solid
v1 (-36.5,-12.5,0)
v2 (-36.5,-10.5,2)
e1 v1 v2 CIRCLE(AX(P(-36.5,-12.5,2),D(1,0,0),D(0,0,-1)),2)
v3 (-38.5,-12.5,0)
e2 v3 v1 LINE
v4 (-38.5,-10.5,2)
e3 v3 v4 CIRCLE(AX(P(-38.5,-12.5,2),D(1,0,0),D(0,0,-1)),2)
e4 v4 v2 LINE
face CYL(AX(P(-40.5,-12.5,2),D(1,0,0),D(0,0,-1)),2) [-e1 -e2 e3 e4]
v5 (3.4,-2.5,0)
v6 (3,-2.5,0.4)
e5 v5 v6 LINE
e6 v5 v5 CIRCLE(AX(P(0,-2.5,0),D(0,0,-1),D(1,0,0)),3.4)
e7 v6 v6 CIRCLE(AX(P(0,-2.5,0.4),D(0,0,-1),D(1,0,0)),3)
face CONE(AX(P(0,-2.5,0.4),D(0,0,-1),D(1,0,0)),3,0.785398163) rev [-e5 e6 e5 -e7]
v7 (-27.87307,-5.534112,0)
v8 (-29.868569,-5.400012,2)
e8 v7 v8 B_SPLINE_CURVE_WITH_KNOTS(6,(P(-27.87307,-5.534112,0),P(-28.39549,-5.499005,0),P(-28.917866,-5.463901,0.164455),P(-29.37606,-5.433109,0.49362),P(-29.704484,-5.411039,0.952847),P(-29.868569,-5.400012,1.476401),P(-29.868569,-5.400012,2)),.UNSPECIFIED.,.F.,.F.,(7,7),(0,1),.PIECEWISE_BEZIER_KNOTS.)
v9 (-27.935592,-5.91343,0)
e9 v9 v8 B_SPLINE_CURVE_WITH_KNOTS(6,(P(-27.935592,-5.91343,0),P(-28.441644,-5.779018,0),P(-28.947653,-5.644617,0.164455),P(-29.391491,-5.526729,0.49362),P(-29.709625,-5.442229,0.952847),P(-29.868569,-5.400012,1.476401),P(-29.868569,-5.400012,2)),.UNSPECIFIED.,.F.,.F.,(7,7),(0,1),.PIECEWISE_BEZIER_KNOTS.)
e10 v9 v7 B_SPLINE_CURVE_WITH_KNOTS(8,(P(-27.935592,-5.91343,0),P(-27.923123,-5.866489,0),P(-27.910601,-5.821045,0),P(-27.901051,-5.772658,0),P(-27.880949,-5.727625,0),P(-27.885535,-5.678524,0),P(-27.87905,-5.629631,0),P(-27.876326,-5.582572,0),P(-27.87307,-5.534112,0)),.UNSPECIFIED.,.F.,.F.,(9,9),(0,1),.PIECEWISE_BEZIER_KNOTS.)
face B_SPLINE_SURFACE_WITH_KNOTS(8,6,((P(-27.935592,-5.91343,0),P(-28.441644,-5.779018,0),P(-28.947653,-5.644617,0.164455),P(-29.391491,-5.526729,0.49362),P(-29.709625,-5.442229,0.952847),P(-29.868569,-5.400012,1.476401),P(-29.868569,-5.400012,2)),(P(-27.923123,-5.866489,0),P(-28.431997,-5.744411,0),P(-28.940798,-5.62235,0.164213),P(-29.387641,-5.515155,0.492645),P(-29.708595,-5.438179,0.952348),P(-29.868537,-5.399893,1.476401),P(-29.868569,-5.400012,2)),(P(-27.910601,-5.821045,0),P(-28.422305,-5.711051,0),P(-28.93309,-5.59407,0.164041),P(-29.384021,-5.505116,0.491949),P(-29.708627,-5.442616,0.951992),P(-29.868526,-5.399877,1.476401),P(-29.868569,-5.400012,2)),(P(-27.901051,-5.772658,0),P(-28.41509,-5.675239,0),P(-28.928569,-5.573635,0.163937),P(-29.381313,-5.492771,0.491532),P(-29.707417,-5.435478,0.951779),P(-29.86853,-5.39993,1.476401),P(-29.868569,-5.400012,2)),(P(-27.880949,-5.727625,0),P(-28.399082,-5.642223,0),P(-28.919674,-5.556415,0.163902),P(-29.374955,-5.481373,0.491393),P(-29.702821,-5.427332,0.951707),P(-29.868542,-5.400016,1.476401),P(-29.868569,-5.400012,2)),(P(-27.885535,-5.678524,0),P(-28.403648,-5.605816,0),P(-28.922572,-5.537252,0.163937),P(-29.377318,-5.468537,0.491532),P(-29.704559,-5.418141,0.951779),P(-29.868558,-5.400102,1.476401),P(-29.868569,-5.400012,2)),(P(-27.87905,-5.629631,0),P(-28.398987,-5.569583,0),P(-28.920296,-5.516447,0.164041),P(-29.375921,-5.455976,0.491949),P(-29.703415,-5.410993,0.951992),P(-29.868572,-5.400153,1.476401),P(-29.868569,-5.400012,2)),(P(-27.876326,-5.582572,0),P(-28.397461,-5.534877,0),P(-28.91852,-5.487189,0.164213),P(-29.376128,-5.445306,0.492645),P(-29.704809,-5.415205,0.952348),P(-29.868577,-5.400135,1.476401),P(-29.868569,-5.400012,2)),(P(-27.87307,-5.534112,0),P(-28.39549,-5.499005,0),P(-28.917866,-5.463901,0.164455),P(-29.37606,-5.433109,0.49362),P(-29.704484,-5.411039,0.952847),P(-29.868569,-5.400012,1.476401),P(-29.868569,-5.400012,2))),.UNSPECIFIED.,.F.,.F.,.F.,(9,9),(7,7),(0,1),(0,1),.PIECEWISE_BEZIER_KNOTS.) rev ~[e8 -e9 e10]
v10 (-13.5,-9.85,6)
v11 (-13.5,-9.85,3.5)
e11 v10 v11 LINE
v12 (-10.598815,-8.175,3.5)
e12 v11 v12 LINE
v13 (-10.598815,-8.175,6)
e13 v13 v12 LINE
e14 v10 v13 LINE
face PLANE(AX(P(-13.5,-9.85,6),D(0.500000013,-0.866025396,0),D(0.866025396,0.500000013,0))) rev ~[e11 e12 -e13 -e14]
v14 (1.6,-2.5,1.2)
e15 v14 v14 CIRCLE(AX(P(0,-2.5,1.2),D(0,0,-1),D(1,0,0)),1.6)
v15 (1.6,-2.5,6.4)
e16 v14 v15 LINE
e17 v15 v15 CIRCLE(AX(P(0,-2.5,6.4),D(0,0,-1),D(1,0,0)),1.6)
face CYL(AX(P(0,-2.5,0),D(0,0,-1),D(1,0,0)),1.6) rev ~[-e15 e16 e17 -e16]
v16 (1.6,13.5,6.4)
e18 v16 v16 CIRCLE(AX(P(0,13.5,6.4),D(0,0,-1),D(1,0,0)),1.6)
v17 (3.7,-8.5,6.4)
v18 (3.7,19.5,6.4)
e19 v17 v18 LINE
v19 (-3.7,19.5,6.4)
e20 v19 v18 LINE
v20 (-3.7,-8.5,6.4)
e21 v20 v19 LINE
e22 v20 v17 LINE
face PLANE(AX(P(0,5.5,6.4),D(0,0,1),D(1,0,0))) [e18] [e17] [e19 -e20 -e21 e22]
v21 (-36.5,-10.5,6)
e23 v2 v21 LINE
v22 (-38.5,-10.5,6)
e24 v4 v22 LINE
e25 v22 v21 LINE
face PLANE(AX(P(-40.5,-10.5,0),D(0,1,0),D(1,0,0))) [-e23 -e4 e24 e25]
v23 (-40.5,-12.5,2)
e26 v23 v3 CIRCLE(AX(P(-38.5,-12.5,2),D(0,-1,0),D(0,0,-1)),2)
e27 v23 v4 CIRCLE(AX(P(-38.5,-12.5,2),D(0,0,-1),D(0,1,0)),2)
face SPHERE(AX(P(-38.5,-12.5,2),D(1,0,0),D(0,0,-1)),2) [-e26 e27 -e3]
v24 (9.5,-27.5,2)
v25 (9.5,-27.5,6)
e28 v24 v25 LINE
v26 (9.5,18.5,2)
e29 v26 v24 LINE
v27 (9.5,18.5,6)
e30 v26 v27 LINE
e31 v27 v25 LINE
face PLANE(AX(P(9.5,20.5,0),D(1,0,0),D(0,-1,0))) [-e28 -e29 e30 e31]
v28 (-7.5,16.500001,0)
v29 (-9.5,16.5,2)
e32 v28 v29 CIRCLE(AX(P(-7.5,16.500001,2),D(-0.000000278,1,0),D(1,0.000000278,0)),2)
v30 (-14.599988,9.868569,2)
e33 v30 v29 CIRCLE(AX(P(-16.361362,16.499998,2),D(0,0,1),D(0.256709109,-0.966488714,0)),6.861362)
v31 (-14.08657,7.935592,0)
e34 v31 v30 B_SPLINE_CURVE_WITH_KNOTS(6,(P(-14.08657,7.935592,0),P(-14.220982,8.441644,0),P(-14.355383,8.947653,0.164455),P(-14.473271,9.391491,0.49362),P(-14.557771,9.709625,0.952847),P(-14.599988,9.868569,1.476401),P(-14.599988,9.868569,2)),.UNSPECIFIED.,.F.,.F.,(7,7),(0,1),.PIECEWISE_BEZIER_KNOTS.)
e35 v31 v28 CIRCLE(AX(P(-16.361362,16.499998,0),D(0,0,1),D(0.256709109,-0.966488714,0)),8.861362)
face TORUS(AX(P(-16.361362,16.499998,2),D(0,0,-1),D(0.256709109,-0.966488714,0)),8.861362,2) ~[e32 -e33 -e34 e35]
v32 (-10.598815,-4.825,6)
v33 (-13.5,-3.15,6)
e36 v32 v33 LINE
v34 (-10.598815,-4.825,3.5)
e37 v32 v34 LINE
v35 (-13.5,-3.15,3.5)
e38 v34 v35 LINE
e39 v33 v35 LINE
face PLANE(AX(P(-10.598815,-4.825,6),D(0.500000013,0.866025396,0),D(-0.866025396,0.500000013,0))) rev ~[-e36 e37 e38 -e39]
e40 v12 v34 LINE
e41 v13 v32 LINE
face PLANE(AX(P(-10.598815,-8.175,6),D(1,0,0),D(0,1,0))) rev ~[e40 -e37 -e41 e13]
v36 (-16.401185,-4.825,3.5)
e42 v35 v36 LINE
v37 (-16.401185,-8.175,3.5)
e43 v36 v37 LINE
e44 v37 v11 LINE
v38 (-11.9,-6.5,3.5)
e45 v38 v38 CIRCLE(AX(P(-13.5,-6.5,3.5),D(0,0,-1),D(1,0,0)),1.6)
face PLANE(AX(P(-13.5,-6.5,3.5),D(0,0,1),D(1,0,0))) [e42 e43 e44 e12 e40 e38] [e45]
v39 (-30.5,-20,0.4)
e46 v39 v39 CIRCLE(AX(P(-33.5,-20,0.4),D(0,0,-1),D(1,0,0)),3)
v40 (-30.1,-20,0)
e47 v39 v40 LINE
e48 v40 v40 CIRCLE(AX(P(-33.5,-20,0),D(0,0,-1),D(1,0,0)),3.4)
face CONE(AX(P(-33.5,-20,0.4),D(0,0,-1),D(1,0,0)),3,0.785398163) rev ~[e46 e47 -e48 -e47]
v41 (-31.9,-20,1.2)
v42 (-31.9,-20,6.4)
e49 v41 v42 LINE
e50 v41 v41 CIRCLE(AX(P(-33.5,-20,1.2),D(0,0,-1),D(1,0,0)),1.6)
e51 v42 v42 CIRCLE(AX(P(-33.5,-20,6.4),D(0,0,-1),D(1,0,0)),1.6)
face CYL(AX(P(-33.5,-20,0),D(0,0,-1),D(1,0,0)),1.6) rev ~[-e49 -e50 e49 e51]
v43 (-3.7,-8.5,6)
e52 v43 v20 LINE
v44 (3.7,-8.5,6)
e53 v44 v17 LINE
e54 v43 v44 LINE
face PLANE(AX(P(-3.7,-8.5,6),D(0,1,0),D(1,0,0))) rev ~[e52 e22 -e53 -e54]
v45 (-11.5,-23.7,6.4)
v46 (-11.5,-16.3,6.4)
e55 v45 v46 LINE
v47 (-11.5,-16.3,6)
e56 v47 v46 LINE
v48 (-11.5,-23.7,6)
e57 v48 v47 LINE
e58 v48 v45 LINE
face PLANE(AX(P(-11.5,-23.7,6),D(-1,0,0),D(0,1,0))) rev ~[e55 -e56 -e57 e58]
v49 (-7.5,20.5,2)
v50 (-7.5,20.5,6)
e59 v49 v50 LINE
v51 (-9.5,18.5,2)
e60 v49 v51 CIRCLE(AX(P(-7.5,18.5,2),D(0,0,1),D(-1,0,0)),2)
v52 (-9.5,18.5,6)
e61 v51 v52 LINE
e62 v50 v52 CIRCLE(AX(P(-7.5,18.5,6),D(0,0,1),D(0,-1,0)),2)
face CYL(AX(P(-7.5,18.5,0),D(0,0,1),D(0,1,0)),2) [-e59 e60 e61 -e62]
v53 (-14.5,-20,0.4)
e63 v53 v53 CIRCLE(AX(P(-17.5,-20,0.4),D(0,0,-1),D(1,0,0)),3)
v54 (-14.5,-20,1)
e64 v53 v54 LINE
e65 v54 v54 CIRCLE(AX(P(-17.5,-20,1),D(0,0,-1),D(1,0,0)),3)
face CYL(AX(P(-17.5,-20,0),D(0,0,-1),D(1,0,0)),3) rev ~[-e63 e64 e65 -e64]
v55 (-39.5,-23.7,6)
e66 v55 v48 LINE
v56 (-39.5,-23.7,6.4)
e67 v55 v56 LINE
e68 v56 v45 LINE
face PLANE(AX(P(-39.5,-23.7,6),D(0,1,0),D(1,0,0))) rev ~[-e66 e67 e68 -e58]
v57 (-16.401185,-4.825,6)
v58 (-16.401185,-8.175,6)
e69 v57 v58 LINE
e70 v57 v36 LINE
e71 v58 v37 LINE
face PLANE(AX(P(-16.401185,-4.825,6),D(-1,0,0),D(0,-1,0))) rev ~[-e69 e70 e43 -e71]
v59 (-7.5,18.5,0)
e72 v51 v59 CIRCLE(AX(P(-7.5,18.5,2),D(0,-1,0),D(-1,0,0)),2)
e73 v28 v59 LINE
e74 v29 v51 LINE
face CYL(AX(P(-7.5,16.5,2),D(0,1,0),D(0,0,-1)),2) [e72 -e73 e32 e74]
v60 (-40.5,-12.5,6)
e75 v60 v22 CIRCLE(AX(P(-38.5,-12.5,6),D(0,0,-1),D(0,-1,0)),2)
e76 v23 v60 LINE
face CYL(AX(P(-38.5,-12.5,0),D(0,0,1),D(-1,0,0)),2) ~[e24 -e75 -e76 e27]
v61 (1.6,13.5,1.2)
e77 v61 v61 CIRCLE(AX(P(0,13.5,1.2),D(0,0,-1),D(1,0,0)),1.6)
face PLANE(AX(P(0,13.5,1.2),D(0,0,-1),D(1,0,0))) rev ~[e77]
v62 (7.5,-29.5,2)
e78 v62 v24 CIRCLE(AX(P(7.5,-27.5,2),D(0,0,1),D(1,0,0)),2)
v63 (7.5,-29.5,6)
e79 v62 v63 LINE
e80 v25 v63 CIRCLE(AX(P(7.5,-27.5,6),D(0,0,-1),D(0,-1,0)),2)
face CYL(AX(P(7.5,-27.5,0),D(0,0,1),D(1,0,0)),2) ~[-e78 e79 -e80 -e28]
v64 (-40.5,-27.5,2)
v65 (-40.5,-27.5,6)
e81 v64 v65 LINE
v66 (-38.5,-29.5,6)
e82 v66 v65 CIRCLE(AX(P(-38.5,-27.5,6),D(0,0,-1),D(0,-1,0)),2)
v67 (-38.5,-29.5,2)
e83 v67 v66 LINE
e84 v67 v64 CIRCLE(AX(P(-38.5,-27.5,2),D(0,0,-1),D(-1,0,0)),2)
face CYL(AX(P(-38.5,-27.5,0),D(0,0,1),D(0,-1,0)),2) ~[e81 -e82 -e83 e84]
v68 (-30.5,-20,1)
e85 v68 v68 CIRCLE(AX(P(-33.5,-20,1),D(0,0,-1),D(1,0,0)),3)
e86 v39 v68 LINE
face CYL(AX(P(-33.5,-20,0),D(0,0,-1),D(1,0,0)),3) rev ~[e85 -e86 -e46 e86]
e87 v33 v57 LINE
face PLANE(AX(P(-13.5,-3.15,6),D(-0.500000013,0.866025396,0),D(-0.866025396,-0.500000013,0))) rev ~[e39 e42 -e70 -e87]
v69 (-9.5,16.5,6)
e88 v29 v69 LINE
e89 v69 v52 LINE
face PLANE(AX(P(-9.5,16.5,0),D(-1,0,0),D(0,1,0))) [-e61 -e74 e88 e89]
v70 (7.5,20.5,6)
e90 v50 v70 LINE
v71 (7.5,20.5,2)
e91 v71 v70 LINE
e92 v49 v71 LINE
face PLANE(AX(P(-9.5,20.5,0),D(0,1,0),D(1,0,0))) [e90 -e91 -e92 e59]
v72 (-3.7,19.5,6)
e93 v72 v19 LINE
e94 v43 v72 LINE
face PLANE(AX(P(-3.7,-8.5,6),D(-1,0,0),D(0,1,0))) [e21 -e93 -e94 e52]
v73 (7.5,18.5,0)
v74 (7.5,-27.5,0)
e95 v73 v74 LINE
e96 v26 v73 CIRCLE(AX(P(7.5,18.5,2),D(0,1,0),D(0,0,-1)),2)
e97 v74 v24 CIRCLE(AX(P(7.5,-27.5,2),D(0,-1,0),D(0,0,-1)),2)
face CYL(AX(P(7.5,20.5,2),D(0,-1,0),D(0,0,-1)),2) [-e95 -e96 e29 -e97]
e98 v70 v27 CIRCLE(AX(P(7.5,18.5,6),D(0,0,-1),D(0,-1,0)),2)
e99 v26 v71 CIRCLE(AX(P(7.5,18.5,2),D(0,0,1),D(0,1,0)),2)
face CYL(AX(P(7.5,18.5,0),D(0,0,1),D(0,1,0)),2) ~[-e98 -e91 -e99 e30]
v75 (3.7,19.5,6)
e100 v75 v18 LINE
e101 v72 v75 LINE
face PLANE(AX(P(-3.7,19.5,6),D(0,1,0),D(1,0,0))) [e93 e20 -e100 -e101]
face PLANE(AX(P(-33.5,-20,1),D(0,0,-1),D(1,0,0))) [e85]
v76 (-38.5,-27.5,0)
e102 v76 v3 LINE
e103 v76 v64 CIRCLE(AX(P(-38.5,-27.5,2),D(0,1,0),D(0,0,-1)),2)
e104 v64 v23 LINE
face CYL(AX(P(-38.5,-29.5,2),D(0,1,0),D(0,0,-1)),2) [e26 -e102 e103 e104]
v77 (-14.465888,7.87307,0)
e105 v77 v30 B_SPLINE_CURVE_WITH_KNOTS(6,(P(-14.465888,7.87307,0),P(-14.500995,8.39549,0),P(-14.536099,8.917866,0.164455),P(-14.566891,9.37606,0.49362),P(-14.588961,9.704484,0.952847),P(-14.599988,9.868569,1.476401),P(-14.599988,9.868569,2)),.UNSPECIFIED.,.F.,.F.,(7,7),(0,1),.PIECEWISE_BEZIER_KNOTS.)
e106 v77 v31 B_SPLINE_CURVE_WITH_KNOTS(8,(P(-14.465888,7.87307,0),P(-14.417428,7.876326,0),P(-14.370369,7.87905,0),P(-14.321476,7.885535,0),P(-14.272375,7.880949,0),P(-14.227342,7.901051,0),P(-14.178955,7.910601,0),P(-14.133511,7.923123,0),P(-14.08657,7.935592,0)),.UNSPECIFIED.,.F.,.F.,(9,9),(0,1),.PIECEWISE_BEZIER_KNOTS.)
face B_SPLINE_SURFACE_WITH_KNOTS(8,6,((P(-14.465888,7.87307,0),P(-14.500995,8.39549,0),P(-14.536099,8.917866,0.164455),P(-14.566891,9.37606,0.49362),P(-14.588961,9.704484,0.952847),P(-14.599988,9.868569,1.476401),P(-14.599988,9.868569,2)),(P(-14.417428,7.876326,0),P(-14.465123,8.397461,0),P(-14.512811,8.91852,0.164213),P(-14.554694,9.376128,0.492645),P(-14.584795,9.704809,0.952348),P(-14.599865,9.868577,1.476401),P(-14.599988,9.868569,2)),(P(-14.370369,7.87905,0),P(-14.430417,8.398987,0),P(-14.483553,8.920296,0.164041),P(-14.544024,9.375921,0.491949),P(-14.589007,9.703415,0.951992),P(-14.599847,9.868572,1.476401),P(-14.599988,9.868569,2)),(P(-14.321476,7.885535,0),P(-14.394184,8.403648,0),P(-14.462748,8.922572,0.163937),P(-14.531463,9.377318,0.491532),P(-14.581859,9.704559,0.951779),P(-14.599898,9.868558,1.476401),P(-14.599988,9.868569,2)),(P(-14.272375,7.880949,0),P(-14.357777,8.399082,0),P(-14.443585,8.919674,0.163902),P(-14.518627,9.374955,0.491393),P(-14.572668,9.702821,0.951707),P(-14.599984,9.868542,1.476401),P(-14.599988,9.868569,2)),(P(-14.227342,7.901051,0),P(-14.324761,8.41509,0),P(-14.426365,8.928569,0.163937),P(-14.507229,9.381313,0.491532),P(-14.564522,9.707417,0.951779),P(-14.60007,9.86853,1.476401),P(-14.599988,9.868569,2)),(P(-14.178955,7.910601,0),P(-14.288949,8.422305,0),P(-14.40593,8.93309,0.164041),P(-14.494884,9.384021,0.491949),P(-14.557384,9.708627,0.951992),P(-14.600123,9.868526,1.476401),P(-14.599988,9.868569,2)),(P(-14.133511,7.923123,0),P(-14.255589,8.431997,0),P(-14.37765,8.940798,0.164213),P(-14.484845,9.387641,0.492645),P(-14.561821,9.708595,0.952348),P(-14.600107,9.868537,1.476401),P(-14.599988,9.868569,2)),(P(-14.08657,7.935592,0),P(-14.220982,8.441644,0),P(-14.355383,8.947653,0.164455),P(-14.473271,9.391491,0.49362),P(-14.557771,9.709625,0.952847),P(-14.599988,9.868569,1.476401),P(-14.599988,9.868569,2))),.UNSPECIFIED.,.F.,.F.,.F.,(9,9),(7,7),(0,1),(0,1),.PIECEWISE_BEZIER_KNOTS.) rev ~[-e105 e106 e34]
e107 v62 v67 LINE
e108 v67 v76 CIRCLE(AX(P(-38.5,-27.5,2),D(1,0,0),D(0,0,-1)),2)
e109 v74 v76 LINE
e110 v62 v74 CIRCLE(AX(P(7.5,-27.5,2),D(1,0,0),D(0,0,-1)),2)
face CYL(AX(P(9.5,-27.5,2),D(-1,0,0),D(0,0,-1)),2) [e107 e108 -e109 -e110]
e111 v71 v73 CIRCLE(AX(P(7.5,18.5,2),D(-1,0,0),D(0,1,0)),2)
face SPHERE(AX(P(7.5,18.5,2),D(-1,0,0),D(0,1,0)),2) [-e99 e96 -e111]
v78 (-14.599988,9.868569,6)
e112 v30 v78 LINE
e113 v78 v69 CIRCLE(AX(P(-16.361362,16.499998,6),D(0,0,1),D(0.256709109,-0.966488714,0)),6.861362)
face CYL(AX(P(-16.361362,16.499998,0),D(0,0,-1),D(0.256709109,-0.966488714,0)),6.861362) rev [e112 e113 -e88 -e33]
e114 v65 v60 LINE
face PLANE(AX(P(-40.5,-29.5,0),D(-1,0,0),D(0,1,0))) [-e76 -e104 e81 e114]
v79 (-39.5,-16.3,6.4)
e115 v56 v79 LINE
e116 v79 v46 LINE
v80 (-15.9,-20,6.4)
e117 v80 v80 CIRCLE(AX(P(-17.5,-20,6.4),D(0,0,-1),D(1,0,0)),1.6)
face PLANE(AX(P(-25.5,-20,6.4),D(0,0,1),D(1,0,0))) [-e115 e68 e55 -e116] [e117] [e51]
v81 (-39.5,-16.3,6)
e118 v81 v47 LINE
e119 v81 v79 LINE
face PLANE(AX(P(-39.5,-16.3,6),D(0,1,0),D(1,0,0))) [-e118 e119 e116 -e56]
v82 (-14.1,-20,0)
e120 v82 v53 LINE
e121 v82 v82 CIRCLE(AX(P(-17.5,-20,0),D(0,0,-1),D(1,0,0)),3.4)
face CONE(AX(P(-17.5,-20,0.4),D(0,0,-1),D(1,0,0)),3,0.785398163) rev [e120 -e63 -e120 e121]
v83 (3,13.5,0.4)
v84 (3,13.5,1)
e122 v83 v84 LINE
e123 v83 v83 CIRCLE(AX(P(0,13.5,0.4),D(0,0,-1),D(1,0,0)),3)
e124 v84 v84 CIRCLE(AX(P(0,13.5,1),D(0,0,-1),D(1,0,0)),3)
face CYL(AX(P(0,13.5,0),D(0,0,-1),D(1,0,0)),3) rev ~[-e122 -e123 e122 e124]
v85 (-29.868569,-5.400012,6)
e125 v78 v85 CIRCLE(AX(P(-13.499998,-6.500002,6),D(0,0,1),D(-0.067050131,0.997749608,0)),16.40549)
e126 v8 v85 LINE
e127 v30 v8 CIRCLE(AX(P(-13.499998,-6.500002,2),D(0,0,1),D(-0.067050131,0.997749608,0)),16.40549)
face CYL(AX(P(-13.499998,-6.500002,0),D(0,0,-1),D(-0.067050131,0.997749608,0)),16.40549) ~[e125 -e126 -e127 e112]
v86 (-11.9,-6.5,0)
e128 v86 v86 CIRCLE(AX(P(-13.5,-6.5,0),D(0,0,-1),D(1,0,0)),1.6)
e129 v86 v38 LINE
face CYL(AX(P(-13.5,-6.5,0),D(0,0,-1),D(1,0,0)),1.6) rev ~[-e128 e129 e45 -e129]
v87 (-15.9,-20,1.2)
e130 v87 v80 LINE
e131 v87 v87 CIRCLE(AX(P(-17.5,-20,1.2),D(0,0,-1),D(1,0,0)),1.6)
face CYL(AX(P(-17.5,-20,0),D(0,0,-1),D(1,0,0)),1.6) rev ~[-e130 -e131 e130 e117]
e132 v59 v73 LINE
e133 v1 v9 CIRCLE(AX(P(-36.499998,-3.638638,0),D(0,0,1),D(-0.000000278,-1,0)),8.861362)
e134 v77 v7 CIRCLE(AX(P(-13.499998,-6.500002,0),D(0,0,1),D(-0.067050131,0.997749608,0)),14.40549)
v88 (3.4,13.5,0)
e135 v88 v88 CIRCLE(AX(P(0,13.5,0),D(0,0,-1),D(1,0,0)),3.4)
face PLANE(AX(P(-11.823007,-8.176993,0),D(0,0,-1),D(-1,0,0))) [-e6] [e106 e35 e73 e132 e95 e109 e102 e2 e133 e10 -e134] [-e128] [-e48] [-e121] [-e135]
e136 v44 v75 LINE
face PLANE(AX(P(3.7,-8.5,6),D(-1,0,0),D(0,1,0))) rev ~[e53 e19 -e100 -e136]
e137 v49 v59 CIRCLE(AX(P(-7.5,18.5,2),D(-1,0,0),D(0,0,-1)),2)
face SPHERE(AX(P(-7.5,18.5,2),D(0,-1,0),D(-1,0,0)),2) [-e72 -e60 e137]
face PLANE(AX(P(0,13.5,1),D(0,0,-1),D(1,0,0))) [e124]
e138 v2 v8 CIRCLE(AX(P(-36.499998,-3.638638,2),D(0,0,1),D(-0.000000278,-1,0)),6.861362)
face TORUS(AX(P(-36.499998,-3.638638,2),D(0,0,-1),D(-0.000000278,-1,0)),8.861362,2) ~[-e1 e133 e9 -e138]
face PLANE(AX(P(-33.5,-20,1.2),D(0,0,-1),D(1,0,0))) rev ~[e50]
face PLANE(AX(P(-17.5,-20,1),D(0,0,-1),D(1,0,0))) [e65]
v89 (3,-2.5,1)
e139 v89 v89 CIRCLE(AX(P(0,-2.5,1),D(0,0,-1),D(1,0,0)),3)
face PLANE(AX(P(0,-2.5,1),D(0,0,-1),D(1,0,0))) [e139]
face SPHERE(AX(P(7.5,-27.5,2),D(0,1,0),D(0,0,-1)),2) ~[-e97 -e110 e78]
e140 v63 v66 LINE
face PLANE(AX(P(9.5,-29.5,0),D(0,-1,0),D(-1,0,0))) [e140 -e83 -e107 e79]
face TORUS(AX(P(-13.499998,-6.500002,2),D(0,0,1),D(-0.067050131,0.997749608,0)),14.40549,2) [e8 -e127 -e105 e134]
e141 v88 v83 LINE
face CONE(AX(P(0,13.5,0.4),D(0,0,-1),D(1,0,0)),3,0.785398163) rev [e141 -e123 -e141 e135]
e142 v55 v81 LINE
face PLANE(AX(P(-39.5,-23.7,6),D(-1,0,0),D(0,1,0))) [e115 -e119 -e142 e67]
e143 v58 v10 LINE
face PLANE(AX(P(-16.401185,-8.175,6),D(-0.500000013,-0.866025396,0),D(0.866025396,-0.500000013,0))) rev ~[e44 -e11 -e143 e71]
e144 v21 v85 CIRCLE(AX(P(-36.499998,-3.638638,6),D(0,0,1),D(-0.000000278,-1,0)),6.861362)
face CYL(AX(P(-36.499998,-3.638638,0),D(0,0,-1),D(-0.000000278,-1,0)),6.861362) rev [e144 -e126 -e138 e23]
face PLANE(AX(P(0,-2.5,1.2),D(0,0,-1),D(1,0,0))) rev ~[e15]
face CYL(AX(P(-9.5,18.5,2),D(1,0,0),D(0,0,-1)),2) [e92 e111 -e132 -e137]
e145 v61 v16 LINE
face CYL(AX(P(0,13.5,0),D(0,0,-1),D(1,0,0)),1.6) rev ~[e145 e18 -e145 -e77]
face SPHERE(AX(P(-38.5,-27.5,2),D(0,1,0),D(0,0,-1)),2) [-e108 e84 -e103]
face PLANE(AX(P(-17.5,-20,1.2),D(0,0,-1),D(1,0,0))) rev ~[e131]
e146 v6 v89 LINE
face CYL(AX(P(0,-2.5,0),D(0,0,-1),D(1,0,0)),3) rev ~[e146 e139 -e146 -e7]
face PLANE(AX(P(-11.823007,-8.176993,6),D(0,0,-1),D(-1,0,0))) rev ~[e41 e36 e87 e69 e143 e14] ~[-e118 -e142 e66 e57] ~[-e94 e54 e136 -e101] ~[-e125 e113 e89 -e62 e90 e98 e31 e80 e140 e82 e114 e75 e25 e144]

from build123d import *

# Parameters (mm, degrees)
PAD_DEPTH       = 6
SKETCH_W        = 28
SKETCH_H        = 7.4
SKETCH_W_2      = 7.4
SKETCH_H_2      = 28
PAD001_DEPTH    = 0.4
SKETCH002_R     = 1.6
POCKET_DEPTH    = 6.401
POCKET001_DEPTH = 2.5
SKETCH004_R     = 3
POCKET002_DEPTH = 1
SKETCH005_R     = 3
PAD002_DEPTH    = 0.2
CHAMFER_SIZE    = 0.4
FILLET_R        = 2


with BuildPart() as part:
    # Sketch001 → Pad (new body)
    with BuildSketch(Plane(origin=(0, -20, 0), x_dir=(1, 0, 0), z_dir=(0, 0, 1))):
        with BuildLine():
            Line((-9.5, 40.5), (9.5, 40.5))
            Line((9.5, 40.5), (9.5, -9.5))
            Line((9.5, -9.5), (-40.5, -9.5))
            Line((-40.5, -9.5), (-40.5, 9.5))
            Line((-40.5, 9.5), (-36.5, 9.5))
            ThreePointArc((-36.5, 9.5), (-32.317125, 10.922441), (-29.868569, 14.599988))
            ThreePointArc((-14.599988, 29.868569), (-25.100431, 25.100431), (-29.868569, 14.599988))
            ThreePointArc((-14.599988, 29.868569), (-10.922441, 32.317125), (-9.5, 36.5))
            Line((-9.5, 36.5), (-9.5, 40.5))
        make_face()
    extrude(amount=PAD_DEPTH)

    # Sketch → Pad001 (new body)
    with BuildSketch(Plane(origin=(0, -20, 6), x_dir=(1, 0, 0), z_dir=(0, 0, 1))):
        with Locations((-25.5, 0)):
            Rectangle(SKETCH_W, SKETCH_H)
        with Locations((0, 25.5)):
            Rectangle(SKETCH_W_2, SKETCH_H_2)
    extrude(amount=PAD001_DEPTH)

    # Sketch002 → Pocket (cut, through all)
    with BuildSketch(Plane(origin=(0, -20, 0), x_dir=(1, 0, 0), z_dir=(0, 0, -1))):
        with Locations((-33.5, 0)):
            Circle(SKETCH002_R)
        with Locations((-17.5, 0)):
            Circle(SKETCH002_R)
        with Locations((0, -17.5)):
            Circle(SKETCH002_R)
        with Locations((0, -33.5)):
            Circle(SKETCH002_R)
        with Locations((-13.5, -13.5)):
            Circle(SKETCH002_R)
    extrude(amount=-POCKET_DEPTH, mode=Mode.SUBTRACT)

    # Sketch003 → Pocket001 (cut)
    with BuildSketch(Plane(origin=(0, -20, 6), x_dir=(1, 0, 0), z_dir=(0, 0, 1))):
        Polygon((-10.598815, 11.825), (-10.598815, 15.175), (-13.5, 16.85), (-16.401185, 15.175), (-16.401185, 11.825), (-13.5, 10.15), align=None)
    extrude(amount=-POCKET001_DEPTH, mode=Mode.SUBTRACT)

    # Sketch004 → Pocket002 (cut)
    with BuildSketch(Plane(origin=(0, -20, 0), x_dir=(1, 0, 0), z_dir=(0, 0, -1))):
        with Locations((-33.5, 0)):
            Circle(SKETCH004_R)
        with Locations((-17.5, 0)):
            Circle(SKETCH004_R)
        with Locations((0, -17.5)):
            Circle(SKETCH004_R)
        with Locations((0, -33.5)):
            Circle(SKETCH004_R)
    extrude(amount=-POCKET002_DEPTH, mode=Mode.SUBTRACT)

    # Sketch005 → Pad002 (new body)
    with BuildSketch(Plane(origin=(0, -20, 1), x_dir=(1, 0, 0), z_dir=(0, 0, -1))):
        with Locations((-33.5, 0)):
            Circle(SKETCH005_R)
        with Locations((-17.5, 0)):
            Circle(SKETCH005_R)
        with Locations((0, -17.5)):
            Circle(SKETCH005_R)
        with Locations((0, -33.5)):
            Circle(SKETCH005_R)
    extrude(amount=-PAD002_DEPTH)

    # Chamfer
    chamfer_edges = [part.edges().sort_by_distance(p)[0] for p in [
        (-20.5, -20, 0),
        (-36.5, -20, 0),
        (-3, -2.5, 0),
        (-3, 13.5, 0),
    ]]
    chamfer(chamfer_edges, length=CHAMFER_SIZE)

    # Fillet
    fillet_edges = [part.edges().sort_by_distance(p)[0] for p in [
        (-32.317125, -9.077559, 0),
        (-38.5, -10.5, 0),
        (-40.5, -20, 0),
        (-40.5, -10.5, 3),
        (-25.100431, 5.100431, 0),
        (-10.922441, 12.317125, 0),
        (-9.5, 18.5, 0),
        (-9.5, 20.5, 3),
        (0, 20.5, 0),
        (9.5, 20.5, 3),
        (9.5, -4.5, 0),
        (-15.5, -29.5, 0),
        (-40.5, -29.5, 3),
        (9.5, -29.5, 3),
    ]]
    fillet(fillet_edges, radius=FILLET_R)


solid = part.part
